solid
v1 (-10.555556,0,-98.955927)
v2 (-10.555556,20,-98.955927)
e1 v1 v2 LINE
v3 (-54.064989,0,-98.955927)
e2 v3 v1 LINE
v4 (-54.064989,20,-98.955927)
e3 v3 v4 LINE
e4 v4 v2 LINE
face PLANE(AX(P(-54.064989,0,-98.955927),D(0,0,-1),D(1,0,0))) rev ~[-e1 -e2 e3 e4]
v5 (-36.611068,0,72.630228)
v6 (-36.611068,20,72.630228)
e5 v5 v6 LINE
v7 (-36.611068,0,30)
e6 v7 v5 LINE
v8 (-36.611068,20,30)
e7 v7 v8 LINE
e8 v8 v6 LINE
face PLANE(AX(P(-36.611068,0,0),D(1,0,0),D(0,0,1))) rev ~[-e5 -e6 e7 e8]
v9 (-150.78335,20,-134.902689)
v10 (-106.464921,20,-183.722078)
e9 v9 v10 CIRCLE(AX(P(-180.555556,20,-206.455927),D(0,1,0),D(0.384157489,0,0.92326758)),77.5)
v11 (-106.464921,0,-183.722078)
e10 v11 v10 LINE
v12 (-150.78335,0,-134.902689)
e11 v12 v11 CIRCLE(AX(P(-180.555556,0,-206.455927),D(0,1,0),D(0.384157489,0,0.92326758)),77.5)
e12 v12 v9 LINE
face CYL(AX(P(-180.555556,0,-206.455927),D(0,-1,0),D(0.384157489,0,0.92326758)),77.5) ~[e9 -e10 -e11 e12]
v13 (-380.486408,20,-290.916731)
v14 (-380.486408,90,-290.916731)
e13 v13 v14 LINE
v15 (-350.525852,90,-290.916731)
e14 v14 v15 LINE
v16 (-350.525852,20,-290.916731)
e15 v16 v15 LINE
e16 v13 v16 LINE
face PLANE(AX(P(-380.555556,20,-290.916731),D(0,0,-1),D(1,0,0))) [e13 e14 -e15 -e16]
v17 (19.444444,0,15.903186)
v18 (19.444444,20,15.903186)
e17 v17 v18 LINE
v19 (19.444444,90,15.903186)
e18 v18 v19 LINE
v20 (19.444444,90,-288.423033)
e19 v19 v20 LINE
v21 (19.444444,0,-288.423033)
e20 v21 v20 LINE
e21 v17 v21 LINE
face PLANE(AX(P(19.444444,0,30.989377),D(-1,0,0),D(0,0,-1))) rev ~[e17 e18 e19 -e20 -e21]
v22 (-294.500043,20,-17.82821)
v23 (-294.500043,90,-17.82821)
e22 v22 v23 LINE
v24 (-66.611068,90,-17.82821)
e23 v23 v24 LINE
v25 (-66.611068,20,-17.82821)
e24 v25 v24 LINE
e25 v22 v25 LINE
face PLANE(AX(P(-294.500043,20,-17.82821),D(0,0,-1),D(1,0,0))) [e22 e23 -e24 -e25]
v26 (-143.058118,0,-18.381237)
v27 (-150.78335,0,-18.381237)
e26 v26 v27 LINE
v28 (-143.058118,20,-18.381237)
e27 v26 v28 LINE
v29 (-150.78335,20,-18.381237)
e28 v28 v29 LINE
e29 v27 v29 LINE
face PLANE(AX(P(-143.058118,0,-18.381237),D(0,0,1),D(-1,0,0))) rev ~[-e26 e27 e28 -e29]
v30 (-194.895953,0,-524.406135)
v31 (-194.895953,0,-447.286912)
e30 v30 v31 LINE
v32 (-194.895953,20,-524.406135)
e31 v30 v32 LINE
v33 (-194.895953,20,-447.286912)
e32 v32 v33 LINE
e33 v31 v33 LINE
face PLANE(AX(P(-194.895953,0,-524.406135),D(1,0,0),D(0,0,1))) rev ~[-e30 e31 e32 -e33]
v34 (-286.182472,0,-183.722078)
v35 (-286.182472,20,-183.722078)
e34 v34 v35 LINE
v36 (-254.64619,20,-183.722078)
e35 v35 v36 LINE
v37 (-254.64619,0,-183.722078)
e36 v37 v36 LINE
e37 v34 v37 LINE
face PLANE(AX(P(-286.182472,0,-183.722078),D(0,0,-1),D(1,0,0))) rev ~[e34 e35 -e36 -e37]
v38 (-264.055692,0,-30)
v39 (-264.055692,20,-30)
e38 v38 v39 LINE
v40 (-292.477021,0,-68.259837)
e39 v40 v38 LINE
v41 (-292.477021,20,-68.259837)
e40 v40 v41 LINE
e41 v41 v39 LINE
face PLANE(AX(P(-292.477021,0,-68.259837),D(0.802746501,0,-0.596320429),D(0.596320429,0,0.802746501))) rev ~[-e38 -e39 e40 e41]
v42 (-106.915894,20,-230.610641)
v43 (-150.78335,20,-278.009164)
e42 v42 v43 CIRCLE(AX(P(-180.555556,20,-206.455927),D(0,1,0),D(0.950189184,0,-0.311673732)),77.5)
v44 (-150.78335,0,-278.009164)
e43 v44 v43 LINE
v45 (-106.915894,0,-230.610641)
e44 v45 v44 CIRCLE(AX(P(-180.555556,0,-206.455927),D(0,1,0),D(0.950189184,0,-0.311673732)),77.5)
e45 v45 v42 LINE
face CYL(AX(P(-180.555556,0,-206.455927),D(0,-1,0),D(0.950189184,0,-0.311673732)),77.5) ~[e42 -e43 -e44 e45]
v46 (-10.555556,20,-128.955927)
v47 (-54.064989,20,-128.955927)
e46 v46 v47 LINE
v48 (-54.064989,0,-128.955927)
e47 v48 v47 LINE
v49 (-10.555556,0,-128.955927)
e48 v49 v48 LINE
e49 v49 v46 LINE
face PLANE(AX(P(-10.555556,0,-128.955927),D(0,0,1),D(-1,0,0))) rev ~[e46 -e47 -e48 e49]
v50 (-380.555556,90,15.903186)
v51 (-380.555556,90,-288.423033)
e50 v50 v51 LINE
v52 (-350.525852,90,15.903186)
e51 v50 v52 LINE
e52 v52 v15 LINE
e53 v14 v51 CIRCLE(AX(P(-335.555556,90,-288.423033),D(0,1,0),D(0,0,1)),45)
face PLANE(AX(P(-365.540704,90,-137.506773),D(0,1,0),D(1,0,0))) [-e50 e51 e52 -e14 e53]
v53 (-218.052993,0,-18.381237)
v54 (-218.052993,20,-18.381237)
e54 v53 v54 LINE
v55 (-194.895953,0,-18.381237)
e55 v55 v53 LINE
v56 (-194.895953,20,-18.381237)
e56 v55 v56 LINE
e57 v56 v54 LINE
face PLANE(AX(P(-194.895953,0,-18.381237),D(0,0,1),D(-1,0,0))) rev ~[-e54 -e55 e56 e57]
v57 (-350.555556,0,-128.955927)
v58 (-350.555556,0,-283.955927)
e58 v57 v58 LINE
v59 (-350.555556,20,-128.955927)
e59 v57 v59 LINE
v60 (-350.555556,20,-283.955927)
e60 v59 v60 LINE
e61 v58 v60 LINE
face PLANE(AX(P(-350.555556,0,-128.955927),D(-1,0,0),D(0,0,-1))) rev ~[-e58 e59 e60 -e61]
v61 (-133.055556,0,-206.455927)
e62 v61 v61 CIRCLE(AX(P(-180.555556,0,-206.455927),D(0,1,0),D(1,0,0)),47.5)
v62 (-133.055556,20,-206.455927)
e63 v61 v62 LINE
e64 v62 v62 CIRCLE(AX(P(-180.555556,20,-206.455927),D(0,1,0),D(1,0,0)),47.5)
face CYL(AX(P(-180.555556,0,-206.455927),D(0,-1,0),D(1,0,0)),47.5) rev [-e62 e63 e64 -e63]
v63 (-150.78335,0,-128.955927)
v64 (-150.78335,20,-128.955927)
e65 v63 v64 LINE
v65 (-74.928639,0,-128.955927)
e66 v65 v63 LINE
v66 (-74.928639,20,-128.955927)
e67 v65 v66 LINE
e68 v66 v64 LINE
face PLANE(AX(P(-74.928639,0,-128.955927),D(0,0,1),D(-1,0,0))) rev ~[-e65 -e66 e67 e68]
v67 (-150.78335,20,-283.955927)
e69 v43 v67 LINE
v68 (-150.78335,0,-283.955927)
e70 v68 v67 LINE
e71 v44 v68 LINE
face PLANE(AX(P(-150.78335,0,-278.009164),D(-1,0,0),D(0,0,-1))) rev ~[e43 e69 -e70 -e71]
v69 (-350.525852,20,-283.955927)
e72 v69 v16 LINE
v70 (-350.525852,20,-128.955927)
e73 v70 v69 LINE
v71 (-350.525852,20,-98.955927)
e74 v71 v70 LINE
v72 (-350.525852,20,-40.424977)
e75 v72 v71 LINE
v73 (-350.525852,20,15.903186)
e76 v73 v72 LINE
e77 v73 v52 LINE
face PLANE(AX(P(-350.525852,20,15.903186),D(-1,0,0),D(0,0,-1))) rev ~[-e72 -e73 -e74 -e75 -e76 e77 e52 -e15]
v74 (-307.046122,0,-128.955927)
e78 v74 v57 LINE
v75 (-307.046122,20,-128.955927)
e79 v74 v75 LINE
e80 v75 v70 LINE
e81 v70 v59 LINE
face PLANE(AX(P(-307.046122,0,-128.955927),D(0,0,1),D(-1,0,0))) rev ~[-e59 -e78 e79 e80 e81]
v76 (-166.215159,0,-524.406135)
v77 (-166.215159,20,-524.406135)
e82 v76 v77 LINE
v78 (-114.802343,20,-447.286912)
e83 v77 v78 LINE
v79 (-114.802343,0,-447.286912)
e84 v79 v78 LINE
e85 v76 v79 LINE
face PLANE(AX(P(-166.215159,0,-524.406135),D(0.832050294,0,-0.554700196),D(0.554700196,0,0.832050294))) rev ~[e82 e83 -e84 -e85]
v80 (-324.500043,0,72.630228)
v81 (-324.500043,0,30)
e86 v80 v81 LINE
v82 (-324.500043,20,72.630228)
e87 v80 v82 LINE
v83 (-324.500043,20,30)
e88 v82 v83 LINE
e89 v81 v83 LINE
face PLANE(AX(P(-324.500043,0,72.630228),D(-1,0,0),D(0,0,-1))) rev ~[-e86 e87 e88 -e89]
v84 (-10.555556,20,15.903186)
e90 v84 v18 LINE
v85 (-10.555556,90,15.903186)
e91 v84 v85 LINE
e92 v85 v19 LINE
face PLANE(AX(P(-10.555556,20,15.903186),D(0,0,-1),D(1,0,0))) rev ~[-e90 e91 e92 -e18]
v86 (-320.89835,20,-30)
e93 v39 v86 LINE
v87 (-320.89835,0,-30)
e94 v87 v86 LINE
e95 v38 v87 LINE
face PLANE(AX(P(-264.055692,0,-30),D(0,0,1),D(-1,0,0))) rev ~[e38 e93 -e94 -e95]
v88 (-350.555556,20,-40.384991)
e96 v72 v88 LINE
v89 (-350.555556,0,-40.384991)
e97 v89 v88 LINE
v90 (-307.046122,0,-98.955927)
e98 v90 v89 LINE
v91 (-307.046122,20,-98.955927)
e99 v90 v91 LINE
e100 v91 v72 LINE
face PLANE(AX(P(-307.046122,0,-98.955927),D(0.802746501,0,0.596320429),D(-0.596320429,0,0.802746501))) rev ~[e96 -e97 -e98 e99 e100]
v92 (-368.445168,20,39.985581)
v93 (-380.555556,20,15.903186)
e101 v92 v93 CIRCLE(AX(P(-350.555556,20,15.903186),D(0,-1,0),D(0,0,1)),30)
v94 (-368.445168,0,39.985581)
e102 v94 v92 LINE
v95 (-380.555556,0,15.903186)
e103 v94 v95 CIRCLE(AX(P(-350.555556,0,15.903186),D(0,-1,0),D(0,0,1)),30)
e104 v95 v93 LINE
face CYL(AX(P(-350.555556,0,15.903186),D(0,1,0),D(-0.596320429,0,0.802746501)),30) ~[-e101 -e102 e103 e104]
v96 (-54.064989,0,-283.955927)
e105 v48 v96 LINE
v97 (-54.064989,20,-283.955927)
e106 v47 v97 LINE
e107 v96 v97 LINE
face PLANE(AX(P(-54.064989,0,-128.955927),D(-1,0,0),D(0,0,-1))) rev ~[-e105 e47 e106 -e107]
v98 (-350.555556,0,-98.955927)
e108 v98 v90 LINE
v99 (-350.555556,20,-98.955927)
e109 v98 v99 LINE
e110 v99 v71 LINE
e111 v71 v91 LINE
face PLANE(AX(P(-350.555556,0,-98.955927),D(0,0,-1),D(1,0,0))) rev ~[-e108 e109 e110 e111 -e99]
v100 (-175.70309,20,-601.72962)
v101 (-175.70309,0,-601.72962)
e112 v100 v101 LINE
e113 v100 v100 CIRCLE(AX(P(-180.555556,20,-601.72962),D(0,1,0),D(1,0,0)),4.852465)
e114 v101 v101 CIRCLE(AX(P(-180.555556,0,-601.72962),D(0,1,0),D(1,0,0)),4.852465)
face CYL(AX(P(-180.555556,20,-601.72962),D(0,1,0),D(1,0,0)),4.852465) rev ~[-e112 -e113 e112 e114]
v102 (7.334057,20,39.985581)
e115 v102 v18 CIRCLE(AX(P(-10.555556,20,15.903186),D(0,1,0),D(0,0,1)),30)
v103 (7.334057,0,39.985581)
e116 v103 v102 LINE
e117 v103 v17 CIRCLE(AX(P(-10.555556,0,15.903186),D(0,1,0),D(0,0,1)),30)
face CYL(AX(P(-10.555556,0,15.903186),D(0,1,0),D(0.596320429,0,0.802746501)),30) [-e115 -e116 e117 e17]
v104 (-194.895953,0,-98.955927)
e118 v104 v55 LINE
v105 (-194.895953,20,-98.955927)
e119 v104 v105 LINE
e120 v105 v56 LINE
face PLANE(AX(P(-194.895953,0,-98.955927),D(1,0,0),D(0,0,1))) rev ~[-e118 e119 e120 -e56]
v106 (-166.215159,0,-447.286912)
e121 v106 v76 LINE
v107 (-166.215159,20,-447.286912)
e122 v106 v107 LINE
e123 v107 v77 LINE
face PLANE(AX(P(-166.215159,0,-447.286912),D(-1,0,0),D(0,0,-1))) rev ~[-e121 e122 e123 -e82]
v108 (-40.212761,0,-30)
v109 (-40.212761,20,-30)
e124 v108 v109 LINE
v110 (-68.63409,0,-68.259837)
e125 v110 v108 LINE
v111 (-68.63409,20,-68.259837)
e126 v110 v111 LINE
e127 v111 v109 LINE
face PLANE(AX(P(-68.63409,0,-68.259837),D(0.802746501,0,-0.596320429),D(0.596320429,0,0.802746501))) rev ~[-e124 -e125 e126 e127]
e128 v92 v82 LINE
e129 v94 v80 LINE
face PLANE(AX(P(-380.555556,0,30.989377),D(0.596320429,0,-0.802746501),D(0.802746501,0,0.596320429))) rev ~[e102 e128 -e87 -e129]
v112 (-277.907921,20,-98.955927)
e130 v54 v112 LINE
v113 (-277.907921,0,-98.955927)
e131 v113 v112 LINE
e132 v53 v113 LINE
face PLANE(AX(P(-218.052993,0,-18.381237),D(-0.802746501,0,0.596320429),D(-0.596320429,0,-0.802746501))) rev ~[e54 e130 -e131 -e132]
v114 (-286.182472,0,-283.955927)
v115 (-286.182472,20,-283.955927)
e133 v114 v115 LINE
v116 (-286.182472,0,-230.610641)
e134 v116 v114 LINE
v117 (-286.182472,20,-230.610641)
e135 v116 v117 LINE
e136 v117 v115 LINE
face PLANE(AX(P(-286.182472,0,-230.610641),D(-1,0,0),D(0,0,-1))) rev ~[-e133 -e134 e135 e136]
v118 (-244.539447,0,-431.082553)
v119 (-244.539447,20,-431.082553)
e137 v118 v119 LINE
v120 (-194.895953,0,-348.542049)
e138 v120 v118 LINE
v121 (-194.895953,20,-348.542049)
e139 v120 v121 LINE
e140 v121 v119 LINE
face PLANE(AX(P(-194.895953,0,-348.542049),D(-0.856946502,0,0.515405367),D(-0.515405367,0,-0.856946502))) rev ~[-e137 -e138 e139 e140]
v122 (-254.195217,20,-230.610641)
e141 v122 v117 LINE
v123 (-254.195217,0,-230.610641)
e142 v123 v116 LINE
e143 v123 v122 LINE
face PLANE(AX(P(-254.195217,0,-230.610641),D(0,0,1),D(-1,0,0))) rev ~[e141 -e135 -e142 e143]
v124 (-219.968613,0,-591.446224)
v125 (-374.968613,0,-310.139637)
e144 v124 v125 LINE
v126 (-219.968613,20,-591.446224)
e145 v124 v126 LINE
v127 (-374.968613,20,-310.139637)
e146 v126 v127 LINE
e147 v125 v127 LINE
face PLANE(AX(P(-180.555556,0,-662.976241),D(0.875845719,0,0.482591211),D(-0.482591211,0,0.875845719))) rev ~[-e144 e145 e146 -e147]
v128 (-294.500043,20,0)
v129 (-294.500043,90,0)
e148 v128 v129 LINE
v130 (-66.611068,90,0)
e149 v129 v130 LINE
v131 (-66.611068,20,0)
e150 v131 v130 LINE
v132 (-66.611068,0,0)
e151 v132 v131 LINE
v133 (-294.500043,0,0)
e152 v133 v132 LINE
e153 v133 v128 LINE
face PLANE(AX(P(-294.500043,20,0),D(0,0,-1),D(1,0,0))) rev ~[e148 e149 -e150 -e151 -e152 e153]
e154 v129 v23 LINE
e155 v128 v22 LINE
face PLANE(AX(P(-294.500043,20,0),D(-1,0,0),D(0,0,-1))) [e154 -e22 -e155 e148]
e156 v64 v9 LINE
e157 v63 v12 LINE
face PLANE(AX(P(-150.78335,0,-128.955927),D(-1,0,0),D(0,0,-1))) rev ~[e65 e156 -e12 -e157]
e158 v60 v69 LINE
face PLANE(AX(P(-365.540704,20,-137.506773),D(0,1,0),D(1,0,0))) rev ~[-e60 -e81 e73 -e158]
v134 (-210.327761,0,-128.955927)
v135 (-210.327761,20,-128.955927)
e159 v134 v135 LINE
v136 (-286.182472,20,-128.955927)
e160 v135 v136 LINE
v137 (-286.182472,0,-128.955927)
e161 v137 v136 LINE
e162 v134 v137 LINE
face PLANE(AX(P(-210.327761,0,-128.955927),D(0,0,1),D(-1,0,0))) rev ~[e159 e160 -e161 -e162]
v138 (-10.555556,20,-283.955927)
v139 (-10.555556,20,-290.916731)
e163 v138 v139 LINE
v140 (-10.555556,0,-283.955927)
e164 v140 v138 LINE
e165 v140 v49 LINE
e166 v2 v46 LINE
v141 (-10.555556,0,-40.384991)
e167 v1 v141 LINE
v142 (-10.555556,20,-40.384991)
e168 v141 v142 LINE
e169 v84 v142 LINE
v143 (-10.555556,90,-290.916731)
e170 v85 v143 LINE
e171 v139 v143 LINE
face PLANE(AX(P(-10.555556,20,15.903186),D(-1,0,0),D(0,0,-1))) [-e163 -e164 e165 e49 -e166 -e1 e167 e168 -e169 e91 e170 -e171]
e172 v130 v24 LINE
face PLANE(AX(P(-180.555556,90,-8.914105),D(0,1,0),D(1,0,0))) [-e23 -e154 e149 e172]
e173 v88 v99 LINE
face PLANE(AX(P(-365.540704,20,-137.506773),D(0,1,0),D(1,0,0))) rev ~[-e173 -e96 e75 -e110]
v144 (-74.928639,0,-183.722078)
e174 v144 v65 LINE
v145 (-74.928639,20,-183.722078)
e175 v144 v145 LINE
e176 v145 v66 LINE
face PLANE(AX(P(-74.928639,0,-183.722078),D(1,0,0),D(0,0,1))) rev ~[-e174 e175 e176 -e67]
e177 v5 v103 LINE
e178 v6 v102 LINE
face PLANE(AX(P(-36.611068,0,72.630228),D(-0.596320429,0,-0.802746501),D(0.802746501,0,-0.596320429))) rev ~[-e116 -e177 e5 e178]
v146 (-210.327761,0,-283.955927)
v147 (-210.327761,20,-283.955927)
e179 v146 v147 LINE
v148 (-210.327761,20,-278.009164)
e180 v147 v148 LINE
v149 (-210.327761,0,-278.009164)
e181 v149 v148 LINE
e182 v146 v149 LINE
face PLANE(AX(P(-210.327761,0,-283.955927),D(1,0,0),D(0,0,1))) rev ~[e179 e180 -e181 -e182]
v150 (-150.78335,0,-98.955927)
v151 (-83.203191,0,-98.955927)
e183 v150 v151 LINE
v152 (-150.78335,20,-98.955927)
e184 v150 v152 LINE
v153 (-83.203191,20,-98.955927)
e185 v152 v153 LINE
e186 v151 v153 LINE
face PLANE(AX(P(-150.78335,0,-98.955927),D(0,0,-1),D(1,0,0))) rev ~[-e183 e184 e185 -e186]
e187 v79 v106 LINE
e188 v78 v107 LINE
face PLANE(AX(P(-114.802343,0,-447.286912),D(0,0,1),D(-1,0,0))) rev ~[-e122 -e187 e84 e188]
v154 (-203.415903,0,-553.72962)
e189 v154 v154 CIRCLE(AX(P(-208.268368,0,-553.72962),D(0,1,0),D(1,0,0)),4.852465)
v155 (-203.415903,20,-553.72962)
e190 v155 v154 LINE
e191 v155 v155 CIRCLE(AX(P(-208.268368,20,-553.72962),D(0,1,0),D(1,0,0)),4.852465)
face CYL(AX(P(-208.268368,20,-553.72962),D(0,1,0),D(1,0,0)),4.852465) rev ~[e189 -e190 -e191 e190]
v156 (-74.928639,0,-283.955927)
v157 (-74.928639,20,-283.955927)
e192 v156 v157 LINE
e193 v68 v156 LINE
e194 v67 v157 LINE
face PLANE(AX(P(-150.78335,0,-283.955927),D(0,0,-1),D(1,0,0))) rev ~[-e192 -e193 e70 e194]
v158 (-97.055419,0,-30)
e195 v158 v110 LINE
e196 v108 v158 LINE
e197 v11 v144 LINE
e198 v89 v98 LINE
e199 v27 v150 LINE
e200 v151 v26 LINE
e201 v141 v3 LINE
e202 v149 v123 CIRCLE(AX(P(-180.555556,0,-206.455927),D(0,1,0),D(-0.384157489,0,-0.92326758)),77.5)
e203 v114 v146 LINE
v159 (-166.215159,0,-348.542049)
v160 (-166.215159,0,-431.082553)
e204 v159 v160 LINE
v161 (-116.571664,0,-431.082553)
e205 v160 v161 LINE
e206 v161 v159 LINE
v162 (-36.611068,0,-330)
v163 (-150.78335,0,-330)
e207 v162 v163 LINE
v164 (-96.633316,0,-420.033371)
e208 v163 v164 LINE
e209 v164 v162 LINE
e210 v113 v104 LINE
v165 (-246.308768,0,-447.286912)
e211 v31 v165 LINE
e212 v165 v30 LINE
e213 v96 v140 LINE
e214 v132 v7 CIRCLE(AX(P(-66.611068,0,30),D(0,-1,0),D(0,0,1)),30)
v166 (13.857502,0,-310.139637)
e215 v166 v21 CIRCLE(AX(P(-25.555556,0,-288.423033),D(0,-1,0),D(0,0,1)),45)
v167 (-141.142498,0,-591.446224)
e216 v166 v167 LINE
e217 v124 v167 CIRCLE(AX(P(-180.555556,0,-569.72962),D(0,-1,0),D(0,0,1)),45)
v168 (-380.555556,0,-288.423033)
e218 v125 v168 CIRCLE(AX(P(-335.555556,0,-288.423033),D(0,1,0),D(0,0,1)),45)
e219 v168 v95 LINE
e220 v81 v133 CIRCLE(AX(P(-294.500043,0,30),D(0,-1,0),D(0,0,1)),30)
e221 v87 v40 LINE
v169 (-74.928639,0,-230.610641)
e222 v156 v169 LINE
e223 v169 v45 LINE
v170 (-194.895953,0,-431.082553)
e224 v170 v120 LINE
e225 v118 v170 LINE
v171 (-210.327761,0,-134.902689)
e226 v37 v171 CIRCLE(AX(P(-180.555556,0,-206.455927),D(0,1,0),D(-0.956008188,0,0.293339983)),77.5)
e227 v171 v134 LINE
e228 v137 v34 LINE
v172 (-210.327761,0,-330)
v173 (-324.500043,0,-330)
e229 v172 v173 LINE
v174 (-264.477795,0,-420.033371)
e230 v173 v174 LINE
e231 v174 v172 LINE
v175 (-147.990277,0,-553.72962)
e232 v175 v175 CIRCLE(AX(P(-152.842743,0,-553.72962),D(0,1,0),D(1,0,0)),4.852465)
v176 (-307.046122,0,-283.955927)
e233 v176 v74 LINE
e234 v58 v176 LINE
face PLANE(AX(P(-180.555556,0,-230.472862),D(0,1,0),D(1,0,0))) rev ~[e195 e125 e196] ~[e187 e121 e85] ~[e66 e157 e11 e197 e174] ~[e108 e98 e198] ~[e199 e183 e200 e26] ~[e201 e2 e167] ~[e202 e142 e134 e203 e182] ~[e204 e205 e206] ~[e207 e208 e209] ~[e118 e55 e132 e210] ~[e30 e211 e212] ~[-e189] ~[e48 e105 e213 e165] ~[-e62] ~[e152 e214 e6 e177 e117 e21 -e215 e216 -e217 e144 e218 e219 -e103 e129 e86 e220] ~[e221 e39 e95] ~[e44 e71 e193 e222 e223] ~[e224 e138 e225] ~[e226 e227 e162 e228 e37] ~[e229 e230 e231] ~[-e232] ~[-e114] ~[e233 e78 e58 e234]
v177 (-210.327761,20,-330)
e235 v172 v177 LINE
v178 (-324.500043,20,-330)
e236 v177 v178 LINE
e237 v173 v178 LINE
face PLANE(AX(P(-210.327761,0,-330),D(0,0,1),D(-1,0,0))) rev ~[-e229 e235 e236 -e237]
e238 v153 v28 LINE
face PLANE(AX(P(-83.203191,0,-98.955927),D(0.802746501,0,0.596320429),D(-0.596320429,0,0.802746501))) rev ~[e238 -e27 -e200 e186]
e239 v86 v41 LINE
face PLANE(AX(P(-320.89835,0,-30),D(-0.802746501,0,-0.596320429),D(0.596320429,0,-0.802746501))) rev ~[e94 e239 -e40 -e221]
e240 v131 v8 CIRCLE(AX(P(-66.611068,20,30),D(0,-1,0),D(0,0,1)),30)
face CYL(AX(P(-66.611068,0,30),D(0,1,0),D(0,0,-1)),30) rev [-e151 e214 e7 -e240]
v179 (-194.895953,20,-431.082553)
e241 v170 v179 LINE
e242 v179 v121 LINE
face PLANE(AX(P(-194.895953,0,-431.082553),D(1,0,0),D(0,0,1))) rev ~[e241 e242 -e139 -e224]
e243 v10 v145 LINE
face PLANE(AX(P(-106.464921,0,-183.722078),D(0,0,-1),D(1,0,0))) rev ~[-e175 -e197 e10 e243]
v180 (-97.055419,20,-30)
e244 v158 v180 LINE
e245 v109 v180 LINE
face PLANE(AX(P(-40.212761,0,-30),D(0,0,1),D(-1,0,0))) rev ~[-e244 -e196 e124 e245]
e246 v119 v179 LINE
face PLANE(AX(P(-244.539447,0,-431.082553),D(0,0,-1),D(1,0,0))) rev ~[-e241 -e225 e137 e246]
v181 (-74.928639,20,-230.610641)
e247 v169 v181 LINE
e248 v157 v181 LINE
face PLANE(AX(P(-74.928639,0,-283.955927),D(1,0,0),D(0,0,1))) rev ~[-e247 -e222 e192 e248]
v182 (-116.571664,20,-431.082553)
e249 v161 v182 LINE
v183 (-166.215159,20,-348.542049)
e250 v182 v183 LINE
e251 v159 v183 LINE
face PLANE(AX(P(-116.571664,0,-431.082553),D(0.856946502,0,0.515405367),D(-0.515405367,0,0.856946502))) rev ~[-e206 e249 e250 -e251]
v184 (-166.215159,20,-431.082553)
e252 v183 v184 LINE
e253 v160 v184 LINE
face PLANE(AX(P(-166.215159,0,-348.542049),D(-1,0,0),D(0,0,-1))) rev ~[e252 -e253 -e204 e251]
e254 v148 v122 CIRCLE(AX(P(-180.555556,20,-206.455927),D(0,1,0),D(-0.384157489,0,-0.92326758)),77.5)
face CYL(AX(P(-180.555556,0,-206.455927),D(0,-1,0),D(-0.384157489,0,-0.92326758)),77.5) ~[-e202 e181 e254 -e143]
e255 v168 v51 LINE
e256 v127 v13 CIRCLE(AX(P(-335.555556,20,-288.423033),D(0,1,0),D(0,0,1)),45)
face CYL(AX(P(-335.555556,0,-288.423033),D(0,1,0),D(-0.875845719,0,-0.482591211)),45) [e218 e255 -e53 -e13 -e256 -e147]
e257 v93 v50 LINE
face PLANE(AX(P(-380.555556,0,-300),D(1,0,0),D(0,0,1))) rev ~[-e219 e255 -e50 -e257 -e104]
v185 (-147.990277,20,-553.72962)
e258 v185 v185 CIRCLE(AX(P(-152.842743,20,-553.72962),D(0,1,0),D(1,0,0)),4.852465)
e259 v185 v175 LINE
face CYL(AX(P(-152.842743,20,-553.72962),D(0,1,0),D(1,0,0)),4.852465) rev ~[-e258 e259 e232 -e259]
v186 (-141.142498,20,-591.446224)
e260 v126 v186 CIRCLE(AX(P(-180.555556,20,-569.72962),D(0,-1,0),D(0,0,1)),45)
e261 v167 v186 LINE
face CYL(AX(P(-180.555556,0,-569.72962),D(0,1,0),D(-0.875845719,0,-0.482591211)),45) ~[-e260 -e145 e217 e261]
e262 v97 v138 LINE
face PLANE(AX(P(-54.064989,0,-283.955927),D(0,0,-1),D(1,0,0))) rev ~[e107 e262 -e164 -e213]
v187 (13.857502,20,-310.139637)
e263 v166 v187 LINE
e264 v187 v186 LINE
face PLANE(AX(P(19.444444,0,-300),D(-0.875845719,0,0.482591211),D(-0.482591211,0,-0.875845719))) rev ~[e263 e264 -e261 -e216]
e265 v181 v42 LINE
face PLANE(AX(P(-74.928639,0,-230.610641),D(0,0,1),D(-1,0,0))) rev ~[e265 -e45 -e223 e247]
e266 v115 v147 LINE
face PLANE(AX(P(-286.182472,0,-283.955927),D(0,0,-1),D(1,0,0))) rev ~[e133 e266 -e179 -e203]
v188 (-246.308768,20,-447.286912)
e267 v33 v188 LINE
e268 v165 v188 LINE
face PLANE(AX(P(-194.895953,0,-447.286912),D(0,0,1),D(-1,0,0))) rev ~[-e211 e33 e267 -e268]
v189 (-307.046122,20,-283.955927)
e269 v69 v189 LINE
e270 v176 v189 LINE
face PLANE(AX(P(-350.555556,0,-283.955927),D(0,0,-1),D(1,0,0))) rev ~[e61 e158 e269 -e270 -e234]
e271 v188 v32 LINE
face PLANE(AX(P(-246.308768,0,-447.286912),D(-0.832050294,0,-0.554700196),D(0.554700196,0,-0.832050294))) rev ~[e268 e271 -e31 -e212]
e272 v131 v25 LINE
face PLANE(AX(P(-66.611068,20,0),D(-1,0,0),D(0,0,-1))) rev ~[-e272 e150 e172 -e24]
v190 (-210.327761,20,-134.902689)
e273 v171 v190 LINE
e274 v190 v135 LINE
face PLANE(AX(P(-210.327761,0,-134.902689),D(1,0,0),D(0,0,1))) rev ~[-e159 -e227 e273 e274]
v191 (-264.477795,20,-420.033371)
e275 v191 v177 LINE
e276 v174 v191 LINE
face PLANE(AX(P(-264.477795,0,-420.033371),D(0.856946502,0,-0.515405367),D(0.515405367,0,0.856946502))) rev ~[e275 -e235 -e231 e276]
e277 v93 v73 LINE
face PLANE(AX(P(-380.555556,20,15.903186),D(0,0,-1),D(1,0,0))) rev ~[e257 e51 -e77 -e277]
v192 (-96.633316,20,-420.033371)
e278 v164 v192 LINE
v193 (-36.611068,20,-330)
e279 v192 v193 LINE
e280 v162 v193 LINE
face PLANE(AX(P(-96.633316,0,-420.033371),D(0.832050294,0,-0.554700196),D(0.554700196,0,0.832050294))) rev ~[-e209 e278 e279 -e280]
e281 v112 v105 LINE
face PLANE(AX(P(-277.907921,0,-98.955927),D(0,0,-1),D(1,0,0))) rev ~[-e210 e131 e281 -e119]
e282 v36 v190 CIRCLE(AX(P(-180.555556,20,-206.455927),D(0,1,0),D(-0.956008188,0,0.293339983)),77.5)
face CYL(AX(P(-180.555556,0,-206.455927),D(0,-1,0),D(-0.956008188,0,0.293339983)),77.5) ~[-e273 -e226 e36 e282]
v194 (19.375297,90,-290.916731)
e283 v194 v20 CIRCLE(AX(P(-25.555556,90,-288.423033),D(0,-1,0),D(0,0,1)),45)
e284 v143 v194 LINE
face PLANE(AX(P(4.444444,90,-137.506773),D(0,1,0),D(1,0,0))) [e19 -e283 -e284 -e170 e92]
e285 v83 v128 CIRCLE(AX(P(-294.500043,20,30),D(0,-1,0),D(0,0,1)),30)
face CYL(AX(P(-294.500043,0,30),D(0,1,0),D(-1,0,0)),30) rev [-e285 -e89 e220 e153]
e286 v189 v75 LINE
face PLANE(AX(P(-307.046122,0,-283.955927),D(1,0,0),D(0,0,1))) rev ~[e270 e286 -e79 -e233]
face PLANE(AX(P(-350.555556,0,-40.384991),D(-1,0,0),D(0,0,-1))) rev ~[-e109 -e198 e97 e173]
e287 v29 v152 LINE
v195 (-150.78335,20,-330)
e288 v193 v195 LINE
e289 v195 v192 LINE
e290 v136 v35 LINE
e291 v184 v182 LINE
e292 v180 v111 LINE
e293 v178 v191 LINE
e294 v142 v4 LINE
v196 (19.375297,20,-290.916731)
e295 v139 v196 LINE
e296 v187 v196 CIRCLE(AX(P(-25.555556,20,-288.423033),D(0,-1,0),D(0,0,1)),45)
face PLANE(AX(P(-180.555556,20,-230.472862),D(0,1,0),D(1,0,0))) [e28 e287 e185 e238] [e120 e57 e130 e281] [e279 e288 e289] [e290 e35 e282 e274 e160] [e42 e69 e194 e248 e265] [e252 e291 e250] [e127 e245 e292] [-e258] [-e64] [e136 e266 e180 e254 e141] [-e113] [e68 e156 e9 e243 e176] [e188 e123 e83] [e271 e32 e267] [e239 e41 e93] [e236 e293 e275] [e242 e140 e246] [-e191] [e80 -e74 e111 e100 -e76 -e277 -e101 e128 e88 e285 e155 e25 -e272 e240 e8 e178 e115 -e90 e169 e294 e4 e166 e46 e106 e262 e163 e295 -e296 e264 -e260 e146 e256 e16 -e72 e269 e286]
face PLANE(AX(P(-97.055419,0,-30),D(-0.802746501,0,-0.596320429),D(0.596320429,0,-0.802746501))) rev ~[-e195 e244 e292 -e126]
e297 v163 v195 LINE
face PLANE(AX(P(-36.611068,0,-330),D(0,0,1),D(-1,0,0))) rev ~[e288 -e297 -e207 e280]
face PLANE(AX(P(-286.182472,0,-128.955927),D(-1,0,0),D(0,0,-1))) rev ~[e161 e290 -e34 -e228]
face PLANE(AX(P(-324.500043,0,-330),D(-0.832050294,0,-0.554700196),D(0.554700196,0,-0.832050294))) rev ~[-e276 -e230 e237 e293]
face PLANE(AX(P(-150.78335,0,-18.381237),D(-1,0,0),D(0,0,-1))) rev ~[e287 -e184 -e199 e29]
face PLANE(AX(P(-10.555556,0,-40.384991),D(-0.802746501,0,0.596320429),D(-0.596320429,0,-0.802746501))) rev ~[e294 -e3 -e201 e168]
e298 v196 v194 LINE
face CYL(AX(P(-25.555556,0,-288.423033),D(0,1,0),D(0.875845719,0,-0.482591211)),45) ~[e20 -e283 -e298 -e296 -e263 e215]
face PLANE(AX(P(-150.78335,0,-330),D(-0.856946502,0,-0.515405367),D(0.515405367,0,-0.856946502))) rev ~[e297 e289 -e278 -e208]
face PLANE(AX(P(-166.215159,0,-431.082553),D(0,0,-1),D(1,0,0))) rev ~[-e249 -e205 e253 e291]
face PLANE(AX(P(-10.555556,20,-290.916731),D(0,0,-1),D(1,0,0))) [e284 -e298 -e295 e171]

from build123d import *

# Parameters (mm, degrees)
SKETCH1_R            = 47.5
BOSS_EXTRUDE6_DEPTH  = 20
FILLET2_R            = 30
SKETCH3_W            = 227.888974491
SKETCH3_H            = 17.82820952
SKETCH3_W_2          = 30.029703607
SKETCH3_H_2          = 306.819916415
SKETCH3_W_3          = 30
BOSS_EXTRUDE12_DEPTH = 70
FILLET3_R            = 45
FILLET4_R            = 45
SKETCH4_R            = 4.852465173
CUT_EXTRUDE2_DEPTH   = 21


with BuildPart() as part:
    # Sketch1 → Boss-Extrude6 (new body)
    with BuildSketch(Plane(origin=(0, 0, 0), x_dir=(1, 0, 0), z_dir=(0, 1, 0))):
        Polygon((-324.500042801, -72.630227613), (-324.500042801, 0), (-36.61106831, 0), (-36.61106831, -72.630227613), (19.444444444, -30.98937664), (19.444444444, 0), (19.444444444, 300), (-180.555555556, 662.976241067), (-380.555555556, 300), (-380.555555556, 0), (-380.555555556, -30.98937664), align=None)
        Polygon((-264.055692307, 30), (-320.898350202, 30), (-292.477021255, 68.259836918), align=None, mode=Mode.SUBTRACT)
        Polygon((-350.555555556, 40.384990781), (-350.555555556, 98.955926659), (-307.046121917, 98.955926659), align=None, mode=Mode.SUBTRACT)
        Polygon((-194.895952536, 18.381237109), (-218.052993309, 18.381237109), (-277.907920592, 98.955926659), (-194.895952536, 98.955926659), align=None, mode=Mode.SUBTRACT)
        Polygon((-307.046121917, 128.955926659), (-350.555555556, 128.955926659), (-350.555555556, 178.791030317), (-350.555555556, 221.457829656), (-350.555555556, 283.955926659), (-307.046121917, 283.955926659), (-307.046121917, 221.457829656), (-307.046121917, 178.791030317), align=None, mode=Mode.SUBTRACT)
        with BuildLine():
            Line((-210.32776095, 128.955926659), (-286.18247229, 128.955926659))
            Line((-286.18247229, 128.955926659), (-286.18247229, 183.722078004))
            Line((-286.18247229, 183.722078004), (-254.646190087, 183.722078004))
            ThreePointArc((-254.646190087, 183.722078004), (-237.937656941, 154.364234033), (-210.32776095, 134.902689235))
            Line((-210.32776095, 134.902689235), (-210.32776095, 128.955926659))
        make_face(mode=Mode.SUBTRACT)
        with BuildLine():
            Line((-286.18247229, 230.610640855), (-286.18247229, 283.955926659))
            Line((-286.18247229, 283.955926659), (-210.32776095, 283.955926659))
            Line((-210.32776095, 283.955926659), (-210.32776095, 278.009164084))
            ThreePointArc((-210.32776095, 278.009164084), (-237.43400989, 259.09708387), (-254.195217302, 230.610640855))
            Line((-254.195217302, 230.610640855), (-286.18247229, 230.610640855))
        make_face(mode=Mode.SUBTRACT)
        with Locations((-180.555555556, 206.455926659)):
            Circle(SKETCH1_R, mode=Mode.SUBTRACT)
        Polygon((-143.058117802, 18.381237109), (-150.783350161, 18.381237109), (-150.783350161, 98.955926659), (-83.203190519, 98.955926659), align=None, mode=Mode.SUBTRACT)
        Polygon((-68.634089856, 68.259836918), (-40.212760909, 30), (-97.055418804, 30), align=None, mode=Mode.SUBTRACT)
        Polygon((-10.555555556, 98.955926659), (-10.555555556, 40.384990781), (-54.064989194, 98.955926659), align=None, mode=Mode.SUBTRACT)
        with BuildLine():
            Line((-150.783350161, 128.955926659), (-150.783350161, 134.902689235))
            ThreePointArc((-150.783350161, 134.902689235), (-123.17345417, 154.364234033), (-106.464921024, 183.722078004))
            Line((-106.464921024, 183.722078004), (-74.928638821, 183.722078004))
            Line((-74.928638821, 183.722078004), (-74.928638821, 128.955926659))
            Line((-74.928638821, 128.955926659), (-150.783350161, 128.955926659))
        make_face(mode=Mode.SUBTRACT)
        with BuildLine():
            ThreePointArc((-106.915893809, 230.610640855), (-123.677101221, 259.09708387), (-150.783350161, 278.009164084))
            Line((-150.783350161, 278.009164084), (-150.783350161, 283.955926659))
            Line((-150.783350161, 283.955926659), (-74.928638821, 283.955926659))
            Line((-74.928638821, 283.955926659), (-74.928638821, 230.610640855))
            Line((-74.928638821, 230.610640855), (-106.915893809, 230.610640855))
        make_face(mode=Mode.SUBTRACT)
        Polygon((-10.555555556, 178.791030317), (-10.555555556, 128.955926659), (-54.064989194, 128.955926659), (-54.064989194, 178.791030317), (-54.064989194, 221.457829656), (-54.064989194, 283.955926659), (-10.555555556, 283.955926659), (-10.555555556, 221.457829656), align=None, mode=Mode.SUBTRACT)
        Polygon((-210.32776095, 330), (-324.500042801, 330), (-264.477795432, 420.033371054), align=None, mode=Mode.SUBTRACT)
        Polygon((-194.895952536, 348.542048906), (-244.539447118, 431.082553467), (-194.895952536, 431.082553467), align=None, mode=Mode.SUBTRACT)
        Polygon((-246.308768225, 447.286911864), (-194.895952536, 524.406135398), (-194.895952536, 447.286911864), align=None, mode=Mode.SUBTRACT)
        Polygon((-96.633315679, 420.033371054), (-36.61106831, 330), (-150.783350161, 330), align=None, mode=Mode.SUBTRACT)
        Polygon((-166.215158575, 431.082553467), (-116.571663993, 431.082553467), (-166.215158575, 348.542048906), align=None, mode=Mode.SUBTRACT)
        Polygon((-166.215158575, 524.406135398), (-114.802342886, 447.286911864), (-166.215158575, 447.286911864), align=None, mode=Mode.SUBTRACT)
    extrude(amount=BOSS_EXTRUDE6_DEPTH)

    # Fillet2
    fillet2_edges = [part.edges().sort_by_distance(p)[0] for p in [
        (19.444444444, 10, 30.98937664),
        (-36.61106831, 10, 0),
        (-324.500042801, 10, 0),
        (-380.555555556, 10, 30.98937664),
    ]]
    fillet(fillet2_edges, radius=FILLET2_R)

    # Sketch3 → Boss-Extrude12 (add)
    with BuildSketch(Plane(origin=(0, 20, 0), x_dir=(1, 0, 0), z_dir=(0, 1, 0))):
        with Locations((-180.555555556, 8.91410476)):
            Rectangle(SKETCH3_W, SKETCH3_H)
        with Locations((-365.540703753, 137.50677266)):
            Rectangle(SKETCH3_W_2, SKETCH3_H_2)
        with Locations((4.444444444, 137.50677266)):
            Rectangle(SKETCH3_W_3, SKETCH3_H_2)
    extrude(amount=BOSS_EXTRUDE12_DEPTH)

    # Fillet3
    fillet3_edges = [part.edges().sort_by_distance(p)[0] for p in [
        (-180.555555556, 10, -662.976241067),
    ]]
    fillet(fillet3_edges, radius=FILLET3_R)

    # Fillet4
    fillet4_edges = [part.edges().sort_by_distance(p)[0] for p in [
        (-380.555555556, 10, -300),
        (19.444444444, 10, -300),
    ]]
    fillet(fillet4_edges, radius=FILLET4_R)

    # Sketch4 → Cut-Extrude2 (cut, through all)
    with BuildSketch(Plane(origin=(0, 20, 0), x_dir=(1, 0, 0), z_dir=(0, 1, 0))):
        with Locations((-180.555555556, 601.729619553)):
            Circle(SKETCH4_R)
        with Locations((-208.268368477, 553.729619553)):
            Circle(SKETCH4_R)
        with Locations((-152.842742634, 553.729619553)):
            Circle(SKETCH4_R)
    extrude(amount=-CUT_EXTRUDE2_DEPTH, mode=Mode.SUBTRACT)


solid = part.part
